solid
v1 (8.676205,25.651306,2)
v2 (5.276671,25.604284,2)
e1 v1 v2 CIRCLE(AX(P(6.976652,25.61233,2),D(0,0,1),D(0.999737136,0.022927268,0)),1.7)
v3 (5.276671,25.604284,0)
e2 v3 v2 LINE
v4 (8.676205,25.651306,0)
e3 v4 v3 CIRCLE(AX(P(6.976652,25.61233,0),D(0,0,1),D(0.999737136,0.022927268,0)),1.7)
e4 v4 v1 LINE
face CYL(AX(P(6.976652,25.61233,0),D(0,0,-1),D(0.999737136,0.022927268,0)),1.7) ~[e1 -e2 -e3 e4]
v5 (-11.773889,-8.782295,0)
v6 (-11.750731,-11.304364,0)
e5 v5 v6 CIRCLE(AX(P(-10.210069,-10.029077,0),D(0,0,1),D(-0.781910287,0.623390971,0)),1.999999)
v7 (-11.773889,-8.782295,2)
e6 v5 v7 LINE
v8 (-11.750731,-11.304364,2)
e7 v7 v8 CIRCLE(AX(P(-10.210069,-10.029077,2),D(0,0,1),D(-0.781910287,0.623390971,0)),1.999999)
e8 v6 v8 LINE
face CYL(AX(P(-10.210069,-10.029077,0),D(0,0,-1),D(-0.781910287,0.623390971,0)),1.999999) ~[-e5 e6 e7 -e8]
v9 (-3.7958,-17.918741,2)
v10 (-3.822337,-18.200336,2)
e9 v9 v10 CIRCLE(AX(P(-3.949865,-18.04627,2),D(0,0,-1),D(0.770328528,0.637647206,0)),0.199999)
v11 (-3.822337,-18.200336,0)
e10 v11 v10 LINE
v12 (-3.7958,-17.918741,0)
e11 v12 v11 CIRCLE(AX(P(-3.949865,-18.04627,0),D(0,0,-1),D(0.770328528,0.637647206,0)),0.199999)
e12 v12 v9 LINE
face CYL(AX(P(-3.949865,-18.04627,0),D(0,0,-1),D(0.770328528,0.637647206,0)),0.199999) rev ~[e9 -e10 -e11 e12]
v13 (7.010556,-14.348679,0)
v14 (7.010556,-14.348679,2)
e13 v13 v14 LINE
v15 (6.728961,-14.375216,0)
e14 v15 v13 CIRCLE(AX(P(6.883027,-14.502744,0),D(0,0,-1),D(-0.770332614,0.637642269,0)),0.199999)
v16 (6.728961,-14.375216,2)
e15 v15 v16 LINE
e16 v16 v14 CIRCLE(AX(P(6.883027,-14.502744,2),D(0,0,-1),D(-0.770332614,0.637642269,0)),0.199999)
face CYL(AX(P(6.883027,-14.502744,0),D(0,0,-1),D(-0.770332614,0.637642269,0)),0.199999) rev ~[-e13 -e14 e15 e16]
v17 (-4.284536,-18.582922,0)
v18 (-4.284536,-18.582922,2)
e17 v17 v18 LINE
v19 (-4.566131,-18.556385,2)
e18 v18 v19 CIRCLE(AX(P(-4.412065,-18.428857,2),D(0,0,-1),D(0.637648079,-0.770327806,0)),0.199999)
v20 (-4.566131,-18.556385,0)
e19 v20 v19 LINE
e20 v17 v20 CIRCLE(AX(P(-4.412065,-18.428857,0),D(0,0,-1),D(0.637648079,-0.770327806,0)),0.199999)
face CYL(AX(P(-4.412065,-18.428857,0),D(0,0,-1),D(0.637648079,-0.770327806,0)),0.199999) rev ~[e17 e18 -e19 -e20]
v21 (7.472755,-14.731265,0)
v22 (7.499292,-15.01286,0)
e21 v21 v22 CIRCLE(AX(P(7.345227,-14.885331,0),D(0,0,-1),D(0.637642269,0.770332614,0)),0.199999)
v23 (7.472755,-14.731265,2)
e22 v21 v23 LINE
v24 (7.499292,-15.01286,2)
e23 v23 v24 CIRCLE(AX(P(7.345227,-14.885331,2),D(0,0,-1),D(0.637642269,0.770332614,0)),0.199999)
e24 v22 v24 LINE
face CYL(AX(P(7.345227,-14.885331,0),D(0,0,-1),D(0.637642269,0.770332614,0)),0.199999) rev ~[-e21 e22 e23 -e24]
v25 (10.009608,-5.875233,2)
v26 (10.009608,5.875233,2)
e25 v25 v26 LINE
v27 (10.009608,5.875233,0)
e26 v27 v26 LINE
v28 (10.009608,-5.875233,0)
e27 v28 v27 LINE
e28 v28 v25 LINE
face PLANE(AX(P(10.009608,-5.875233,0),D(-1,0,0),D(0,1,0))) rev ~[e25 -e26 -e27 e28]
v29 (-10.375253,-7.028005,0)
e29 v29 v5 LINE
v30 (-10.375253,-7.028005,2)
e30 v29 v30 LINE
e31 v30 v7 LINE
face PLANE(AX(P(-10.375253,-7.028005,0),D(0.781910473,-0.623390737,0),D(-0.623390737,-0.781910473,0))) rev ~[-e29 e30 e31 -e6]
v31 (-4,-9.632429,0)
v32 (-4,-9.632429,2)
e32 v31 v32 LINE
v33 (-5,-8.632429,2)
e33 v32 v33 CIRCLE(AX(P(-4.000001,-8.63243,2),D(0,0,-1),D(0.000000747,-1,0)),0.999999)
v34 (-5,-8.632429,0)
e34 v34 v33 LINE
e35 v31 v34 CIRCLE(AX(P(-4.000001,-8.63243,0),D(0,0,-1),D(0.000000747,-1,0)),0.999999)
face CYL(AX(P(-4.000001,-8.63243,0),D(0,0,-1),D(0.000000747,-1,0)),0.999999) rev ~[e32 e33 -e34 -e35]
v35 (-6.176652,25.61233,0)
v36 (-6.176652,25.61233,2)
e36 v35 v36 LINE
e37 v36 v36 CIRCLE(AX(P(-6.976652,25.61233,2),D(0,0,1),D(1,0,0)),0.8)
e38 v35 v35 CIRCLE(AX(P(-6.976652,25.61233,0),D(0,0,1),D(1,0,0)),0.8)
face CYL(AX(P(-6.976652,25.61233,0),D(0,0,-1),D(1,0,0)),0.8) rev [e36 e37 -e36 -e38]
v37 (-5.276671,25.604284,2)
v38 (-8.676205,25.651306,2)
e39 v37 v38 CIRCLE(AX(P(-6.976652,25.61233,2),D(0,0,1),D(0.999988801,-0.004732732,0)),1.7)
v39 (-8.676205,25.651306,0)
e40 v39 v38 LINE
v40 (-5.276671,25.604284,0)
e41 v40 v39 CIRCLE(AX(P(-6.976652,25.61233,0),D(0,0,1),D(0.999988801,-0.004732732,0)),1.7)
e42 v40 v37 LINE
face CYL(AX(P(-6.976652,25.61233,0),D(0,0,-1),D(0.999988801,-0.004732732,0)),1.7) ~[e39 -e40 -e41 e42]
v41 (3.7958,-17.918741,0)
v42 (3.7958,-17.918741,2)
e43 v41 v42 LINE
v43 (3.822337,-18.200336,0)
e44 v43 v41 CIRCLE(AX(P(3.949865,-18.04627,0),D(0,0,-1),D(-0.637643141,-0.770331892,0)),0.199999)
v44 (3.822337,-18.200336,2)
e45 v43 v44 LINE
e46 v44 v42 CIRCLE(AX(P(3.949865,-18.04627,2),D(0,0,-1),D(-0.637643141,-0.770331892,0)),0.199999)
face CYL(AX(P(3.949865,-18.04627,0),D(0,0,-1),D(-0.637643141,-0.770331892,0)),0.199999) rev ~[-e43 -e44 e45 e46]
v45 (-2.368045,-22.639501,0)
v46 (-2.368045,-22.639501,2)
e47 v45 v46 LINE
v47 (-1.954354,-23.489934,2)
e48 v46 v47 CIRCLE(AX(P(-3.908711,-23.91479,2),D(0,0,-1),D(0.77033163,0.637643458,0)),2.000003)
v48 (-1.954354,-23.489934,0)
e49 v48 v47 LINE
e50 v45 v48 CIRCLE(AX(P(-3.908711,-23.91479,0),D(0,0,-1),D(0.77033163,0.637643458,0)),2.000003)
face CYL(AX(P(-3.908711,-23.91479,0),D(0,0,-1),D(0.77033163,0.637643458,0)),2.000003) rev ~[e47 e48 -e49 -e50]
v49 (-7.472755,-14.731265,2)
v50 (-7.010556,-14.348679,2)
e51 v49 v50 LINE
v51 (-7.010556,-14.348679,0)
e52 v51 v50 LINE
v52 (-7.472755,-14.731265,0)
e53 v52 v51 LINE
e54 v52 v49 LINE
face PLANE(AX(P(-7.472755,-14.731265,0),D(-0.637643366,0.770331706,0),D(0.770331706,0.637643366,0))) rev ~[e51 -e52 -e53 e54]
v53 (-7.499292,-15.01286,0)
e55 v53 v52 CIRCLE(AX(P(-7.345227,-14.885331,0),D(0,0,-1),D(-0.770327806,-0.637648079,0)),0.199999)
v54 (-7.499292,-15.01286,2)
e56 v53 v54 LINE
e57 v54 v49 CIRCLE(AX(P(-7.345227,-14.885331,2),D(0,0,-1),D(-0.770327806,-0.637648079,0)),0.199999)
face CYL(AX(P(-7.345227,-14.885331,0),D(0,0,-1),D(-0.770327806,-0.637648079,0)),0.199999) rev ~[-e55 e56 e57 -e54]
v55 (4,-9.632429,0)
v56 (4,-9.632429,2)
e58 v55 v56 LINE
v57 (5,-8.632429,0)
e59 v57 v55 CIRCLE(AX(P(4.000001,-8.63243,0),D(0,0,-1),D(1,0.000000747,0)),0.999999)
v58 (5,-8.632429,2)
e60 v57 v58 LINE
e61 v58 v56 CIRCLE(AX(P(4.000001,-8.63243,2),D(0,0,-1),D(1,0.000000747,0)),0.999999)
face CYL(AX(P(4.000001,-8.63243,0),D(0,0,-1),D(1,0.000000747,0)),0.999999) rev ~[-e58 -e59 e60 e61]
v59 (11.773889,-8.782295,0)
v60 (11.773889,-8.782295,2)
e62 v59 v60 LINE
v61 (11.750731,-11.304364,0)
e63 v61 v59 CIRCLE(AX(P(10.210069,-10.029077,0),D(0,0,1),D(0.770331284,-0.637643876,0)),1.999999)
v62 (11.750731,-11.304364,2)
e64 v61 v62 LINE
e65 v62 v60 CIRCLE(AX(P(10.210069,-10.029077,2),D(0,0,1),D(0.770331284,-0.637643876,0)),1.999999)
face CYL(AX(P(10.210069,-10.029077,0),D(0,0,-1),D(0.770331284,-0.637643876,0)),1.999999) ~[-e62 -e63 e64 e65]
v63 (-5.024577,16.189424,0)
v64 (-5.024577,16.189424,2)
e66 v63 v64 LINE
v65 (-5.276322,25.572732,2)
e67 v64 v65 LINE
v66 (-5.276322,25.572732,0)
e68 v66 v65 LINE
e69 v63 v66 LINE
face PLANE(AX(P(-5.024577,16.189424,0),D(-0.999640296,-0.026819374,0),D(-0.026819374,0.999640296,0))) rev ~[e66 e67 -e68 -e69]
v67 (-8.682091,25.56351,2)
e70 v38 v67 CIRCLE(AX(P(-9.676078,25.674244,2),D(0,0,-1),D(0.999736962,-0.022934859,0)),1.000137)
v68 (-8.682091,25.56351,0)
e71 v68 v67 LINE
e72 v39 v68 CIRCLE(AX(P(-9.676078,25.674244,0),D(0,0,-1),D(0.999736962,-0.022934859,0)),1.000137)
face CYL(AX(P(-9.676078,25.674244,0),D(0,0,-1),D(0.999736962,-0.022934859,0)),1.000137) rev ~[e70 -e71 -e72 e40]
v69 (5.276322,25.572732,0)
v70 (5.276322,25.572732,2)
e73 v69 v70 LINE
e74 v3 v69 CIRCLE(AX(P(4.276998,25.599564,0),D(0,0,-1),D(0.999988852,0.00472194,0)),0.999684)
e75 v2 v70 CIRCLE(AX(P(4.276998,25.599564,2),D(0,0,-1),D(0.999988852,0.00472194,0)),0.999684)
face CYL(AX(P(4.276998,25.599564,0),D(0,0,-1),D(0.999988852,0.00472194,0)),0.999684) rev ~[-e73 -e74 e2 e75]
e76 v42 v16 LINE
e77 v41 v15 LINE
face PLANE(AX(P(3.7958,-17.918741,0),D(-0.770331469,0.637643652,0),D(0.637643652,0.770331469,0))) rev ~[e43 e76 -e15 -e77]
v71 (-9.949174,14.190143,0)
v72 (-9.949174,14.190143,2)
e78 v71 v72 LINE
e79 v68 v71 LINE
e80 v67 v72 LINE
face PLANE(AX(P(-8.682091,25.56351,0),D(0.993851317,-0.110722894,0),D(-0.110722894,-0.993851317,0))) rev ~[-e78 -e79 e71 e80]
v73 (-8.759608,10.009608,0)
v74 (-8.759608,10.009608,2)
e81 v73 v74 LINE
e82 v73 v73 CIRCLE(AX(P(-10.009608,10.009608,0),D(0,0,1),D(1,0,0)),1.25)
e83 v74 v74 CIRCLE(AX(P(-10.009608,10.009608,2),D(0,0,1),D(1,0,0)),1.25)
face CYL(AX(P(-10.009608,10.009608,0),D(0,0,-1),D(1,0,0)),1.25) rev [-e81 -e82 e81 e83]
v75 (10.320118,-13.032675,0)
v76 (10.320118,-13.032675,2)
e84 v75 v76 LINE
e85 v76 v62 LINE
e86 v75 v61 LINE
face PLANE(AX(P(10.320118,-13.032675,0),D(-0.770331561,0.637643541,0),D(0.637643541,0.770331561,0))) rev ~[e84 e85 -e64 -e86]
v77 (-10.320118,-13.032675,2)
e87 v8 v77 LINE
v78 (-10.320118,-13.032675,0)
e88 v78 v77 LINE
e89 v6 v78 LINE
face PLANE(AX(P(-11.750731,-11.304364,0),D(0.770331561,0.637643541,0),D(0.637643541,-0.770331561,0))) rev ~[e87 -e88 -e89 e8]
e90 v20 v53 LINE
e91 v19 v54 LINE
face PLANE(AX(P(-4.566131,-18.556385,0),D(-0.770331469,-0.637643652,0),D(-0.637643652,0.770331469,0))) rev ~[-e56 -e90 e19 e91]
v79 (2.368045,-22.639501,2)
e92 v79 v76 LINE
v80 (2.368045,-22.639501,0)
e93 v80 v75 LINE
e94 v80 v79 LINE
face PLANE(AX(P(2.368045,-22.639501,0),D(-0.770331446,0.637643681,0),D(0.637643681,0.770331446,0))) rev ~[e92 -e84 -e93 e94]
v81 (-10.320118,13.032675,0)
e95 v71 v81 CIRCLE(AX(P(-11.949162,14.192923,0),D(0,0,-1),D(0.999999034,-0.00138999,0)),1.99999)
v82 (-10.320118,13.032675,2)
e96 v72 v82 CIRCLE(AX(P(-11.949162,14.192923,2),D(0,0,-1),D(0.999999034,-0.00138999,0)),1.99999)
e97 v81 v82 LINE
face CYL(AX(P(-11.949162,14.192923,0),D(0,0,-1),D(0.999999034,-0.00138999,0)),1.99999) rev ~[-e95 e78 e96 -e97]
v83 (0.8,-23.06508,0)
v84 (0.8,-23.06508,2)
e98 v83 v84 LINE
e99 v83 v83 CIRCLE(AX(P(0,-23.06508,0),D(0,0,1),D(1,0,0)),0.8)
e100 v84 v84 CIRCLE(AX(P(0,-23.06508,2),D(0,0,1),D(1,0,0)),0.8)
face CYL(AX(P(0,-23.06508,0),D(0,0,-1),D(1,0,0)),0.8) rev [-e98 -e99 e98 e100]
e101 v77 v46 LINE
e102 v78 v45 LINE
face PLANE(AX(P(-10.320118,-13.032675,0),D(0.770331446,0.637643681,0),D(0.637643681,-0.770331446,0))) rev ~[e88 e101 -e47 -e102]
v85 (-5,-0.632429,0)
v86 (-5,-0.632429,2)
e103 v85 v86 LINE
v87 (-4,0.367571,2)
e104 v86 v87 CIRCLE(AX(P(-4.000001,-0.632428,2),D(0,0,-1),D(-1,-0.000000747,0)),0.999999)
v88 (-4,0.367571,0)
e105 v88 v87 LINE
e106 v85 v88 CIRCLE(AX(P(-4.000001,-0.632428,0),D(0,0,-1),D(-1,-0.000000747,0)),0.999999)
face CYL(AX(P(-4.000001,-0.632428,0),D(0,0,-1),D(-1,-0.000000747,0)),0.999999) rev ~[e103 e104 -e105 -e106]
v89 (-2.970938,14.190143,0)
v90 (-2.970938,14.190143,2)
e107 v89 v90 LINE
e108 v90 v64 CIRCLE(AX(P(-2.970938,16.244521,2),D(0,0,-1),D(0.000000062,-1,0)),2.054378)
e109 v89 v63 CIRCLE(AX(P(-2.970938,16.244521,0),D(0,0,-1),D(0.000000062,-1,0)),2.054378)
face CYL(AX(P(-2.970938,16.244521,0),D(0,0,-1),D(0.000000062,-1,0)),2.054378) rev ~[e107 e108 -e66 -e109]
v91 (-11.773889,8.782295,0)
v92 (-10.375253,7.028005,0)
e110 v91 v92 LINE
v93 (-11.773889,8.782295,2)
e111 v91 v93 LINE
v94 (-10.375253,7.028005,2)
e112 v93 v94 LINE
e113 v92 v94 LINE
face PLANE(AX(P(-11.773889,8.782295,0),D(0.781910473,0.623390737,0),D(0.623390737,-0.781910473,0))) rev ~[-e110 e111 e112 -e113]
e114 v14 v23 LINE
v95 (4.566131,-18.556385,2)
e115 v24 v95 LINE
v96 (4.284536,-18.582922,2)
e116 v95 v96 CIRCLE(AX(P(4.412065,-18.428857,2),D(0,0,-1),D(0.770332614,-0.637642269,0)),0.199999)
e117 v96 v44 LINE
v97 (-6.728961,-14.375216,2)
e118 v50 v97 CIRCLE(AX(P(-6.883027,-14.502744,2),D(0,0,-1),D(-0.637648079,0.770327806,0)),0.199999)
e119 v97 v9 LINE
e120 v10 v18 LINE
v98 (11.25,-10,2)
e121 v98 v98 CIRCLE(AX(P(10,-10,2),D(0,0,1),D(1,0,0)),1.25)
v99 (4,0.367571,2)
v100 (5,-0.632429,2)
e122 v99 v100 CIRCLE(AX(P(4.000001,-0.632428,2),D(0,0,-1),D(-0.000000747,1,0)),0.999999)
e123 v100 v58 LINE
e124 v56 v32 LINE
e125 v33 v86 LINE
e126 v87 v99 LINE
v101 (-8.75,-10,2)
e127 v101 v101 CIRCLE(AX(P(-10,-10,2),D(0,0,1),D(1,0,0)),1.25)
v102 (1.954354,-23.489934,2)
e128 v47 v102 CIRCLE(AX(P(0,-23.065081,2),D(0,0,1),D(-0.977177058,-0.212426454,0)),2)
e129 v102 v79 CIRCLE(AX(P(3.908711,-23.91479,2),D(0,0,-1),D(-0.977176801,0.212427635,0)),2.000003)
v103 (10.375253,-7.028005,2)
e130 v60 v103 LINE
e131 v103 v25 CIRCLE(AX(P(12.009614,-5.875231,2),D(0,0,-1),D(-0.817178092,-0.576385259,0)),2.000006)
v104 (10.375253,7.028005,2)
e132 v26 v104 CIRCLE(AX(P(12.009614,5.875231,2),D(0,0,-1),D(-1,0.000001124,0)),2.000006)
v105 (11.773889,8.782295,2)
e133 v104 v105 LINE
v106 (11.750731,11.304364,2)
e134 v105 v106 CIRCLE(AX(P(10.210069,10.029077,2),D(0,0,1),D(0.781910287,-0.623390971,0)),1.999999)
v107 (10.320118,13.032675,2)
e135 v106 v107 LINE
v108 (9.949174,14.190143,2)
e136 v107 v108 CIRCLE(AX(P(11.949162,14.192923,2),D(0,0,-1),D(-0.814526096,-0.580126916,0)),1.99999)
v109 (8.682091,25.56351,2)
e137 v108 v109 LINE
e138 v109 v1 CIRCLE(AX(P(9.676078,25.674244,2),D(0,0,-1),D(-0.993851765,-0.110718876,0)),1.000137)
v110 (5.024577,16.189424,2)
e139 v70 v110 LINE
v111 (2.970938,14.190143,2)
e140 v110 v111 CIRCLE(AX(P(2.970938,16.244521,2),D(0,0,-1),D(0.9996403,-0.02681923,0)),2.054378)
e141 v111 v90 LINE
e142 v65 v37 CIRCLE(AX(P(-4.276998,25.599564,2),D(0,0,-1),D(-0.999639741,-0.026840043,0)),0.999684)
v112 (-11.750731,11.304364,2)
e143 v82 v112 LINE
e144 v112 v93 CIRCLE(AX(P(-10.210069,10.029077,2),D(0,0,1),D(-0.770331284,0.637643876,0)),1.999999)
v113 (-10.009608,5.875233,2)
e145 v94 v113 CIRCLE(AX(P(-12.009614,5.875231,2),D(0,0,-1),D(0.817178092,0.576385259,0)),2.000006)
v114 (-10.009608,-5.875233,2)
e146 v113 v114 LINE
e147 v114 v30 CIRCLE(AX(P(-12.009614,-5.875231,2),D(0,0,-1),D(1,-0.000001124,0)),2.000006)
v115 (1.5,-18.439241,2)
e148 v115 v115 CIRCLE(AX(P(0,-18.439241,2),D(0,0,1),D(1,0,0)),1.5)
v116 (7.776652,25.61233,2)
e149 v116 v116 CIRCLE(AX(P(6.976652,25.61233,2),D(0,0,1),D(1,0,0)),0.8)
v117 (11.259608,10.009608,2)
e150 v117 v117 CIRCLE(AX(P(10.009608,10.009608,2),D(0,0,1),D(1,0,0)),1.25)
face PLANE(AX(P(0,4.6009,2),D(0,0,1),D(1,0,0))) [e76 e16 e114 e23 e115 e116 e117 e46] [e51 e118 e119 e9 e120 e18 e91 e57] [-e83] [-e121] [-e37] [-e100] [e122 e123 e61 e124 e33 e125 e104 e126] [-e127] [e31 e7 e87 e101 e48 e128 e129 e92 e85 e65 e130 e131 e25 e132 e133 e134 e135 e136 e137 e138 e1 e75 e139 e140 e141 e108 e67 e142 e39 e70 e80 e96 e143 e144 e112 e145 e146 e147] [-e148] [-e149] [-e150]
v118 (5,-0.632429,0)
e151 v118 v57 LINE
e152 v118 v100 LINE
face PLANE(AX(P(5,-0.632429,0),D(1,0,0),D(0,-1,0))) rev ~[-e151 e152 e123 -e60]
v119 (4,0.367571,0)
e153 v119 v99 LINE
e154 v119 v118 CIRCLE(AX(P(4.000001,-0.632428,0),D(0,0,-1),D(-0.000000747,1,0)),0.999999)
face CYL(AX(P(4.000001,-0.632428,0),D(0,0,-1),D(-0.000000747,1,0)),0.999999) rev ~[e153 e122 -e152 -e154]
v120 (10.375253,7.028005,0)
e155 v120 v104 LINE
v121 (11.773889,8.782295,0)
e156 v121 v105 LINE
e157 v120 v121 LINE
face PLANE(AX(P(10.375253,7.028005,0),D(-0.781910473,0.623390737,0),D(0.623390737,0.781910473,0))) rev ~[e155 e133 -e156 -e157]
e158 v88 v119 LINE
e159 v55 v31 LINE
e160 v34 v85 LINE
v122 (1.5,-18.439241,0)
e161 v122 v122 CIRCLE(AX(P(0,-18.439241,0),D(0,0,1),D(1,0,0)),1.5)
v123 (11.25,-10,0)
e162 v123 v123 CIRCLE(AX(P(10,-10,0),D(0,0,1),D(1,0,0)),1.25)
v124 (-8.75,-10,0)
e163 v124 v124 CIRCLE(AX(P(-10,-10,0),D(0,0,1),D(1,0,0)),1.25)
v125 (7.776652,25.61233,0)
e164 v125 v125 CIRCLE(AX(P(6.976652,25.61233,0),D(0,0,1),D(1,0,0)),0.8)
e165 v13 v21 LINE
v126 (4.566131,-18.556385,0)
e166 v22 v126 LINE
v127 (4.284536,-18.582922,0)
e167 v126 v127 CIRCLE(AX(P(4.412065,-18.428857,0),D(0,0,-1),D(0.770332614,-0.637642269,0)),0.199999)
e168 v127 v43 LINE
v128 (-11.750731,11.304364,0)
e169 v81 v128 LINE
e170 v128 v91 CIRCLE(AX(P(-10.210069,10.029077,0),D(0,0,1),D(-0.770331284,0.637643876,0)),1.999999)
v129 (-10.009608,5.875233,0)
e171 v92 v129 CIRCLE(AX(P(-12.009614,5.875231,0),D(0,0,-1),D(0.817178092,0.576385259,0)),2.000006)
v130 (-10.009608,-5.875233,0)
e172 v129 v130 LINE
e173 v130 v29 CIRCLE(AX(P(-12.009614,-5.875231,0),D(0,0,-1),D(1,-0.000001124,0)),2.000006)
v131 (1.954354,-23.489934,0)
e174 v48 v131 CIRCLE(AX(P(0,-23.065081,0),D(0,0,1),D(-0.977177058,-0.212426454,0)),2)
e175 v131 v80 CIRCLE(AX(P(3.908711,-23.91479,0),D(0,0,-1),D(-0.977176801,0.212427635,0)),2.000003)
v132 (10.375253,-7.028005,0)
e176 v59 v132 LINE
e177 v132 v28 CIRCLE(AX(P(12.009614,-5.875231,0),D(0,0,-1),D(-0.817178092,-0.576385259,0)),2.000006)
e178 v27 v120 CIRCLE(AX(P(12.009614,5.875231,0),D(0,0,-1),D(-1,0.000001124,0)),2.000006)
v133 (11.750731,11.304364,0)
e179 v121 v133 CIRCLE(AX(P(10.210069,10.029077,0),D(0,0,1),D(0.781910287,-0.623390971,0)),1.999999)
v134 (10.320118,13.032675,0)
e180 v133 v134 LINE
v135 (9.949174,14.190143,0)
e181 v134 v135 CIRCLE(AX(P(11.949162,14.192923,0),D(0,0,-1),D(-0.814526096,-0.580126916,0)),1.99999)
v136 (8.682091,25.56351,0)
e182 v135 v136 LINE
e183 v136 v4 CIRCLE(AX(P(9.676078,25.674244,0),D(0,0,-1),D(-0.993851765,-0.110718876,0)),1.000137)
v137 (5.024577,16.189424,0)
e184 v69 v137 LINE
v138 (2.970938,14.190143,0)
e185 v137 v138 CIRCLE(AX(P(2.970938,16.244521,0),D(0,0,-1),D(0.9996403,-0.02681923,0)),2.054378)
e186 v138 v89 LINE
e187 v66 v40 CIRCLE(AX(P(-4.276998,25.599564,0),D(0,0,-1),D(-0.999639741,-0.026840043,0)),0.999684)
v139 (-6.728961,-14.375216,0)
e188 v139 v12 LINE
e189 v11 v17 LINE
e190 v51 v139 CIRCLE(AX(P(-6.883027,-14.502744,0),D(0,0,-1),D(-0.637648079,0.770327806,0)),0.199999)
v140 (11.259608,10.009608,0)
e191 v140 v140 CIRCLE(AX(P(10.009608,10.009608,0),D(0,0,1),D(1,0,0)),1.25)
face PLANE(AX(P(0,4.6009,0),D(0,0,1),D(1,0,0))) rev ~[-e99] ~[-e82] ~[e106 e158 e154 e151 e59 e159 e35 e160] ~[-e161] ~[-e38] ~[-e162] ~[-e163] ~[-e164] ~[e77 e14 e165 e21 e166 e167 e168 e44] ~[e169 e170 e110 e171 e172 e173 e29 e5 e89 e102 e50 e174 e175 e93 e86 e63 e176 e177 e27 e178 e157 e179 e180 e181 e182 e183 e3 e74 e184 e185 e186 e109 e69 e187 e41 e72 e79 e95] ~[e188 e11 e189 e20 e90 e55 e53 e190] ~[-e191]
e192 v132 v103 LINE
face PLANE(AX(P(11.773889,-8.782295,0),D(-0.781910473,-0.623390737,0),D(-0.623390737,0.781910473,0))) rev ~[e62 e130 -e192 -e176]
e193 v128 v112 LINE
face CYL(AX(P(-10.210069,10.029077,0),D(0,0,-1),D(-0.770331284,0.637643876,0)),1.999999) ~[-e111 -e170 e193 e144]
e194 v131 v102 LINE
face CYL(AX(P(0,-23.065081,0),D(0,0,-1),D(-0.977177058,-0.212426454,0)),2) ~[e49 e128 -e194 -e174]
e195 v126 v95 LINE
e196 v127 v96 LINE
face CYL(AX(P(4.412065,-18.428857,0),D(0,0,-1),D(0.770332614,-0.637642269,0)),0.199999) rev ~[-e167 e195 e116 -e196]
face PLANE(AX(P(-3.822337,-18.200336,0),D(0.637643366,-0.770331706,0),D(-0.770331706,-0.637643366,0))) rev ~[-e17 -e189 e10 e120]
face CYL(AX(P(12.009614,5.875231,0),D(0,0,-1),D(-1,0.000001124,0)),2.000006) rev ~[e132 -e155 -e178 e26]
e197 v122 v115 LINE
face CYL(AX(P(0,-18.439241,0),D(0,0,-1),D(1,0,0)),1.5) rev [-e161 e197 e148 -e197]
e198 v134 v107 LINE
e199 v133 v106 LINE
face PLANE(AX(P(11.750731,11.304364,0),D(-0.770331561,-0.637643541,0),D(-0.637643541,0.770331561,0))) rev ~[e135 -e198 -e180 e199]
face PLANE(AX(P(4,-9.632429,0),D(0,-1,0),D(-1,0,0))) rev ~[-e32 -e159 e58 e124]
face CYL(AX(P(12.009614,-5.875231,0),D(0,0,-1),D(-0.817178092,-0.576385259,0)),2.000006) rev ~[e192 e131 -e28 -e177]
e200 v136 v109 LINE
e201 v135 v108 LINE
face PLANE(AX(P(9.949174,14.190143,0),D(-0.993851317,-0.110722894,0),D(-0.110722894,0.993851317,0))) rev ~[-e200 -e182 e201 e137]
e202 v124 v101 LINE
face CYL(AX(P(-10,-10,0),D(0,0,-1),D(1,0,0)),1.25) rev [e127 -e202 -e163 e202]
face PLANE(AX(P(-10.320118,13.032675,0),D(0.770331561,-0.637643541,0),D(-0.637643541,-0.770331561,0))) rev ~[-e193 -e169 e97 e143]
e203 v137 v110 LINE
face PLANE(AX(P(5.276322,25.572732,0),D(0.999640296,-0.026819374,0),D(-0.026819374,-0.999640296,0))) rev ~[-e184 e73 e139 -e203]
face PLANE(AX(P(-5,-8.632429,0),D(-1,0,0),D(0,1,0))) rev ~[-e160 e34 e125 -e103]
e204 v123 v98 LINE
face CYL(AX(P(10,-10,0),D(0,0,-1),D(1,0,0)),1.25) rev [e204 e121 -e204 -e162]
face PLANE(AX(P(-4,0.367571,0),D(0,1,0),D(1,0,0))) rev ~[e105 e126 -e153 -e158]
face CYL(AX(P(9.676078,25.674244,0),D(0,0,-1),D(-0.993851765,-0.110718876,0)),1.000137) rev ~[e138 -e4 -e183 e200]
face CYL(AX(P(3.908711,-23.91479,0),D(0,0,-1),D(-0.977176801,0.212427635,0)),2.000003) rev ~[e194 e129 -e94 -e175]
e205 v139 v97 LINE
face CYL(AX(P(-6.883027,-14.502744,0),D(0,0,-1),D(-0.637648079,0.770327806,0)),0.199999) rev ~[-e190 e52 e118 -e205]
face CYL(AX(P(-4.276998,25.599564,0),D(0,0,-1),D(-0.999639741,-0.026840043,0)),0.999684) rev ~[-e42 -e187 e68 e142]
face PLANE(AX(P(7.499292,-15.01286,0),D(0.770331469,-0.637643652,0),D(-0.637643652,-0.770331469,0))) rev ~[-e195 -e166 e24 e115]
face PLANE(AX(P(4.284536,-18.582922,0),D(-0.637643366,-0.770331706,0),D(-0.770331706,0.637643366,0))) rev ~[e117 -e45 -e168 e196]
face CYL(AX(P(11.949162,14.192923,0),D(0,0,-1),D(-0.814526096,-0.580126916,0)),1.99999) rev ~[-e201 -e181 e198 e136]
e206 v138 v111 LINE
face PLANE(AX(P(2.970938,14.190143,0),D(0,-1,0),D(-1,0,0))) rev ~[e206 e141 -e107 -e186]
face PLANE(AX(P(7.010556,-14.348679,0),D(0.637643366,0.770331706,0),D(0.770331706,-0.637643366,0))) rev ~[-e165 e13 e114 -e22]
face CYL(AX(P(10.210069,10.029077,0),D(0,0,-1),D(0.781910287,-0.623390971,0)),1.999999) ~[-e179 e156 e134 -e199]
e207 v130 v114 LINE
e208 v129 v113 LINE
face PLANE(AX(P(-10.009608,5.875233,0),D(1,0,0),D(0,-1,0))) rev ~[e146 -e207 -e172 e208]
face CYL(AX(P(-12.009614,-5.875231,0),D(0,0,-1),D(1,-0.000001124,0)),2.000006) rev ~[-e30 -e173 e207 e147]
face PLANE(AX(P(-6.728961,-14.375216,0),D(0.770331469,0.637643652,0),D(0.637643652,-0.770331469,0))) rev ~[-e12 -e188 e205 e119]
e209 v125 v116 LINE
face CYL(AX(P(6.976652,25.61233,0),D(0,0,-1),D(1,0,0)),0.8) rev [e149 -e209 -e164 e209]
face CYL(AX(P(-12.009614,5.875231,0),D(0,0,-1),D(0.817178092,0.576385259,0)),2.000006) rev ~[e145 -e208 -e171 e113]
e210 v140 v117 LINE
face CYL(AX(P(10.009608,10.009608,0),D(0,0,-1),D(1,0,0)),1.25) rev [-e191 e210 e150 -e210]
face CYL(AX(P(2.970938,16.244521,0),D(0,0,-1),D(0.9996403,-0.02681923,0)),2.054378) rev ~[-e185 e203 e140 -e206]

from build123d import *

# Parameters (mm, degrees)
F0_R     = 0.8
F0_R_2   = 1.5
F0_R_3   = 1.25
F1_DEPTH = 2


with BuildPart() as f1:
    # F0 (on Top) → F1 (new body)
    with BuildSketch(Plane.XY):
        with BuildLine():
            Line((10.009608, -5.875233), (10.009608, 5.875233))
            ThreePointArc((10.009608, 5.875233), (10.10321, 6.479919), (10.375253, 7.028005))
            Line((10.375253, 7.028005), (11.773889, 8.782295))
            ThreePointArc((11.773889, 8.782295), (12.209984, 10.04744), (11.750731, 11.304364))
            Line((11.750731, 11.304364), (10.320118, 13.032675))
            ThreePointArc((10.320118, 13.032675), (10.044588, 13.582548), (9.949174, 14.190143))
            Line((9.949174, 14.190143), (8.682091, 25.56351))
            ThreePointArc((8.682091, 25.56351), (8.678182, 25.607343), (8.676205, 25.651306))
            ThreePointArc((8.676205, 25.651306), (6.95314, 27.312167), (5.276671, 25.604284))
            ThreePointArc((5.276671, 25.604284), (5.276621, 25.588507), (5.276322, 25.572732))
            Line((5.276322, 25.572732), (5.024577, 16.189424))
            ThreePointArc((5.024577, 16.189424), (4.40399, 14.772505), (2.970938, 14.190143))
            Line((2.970938, 14.190143), (-2.970938, 14.190143))
            ThreePointArc((-2.970938, 14.190143), (-4.40399, 14.772505), (-5.024577, 16.189424))
            Line((-5.024577, 16.189424), (-5.276322, 25.572732))
            ThreePointArc((-5.276322, 25.572732), (-5.276621, 25.588507), (-5.276671, 25.604284))
            ThreePointArc((-5.276671, 25.604284), (-6.95314, 27.312167), (-8.676205, 25.651306))
            ThreePointArc((-8.676205, 25.651306), (-8.678182, 25.607343), (-8.682091, 25.56351))
            Line((-8.682091, 25.56351), (-9.949174, 14.190143))
            ThreePointArc((-9.949174, 14.190143), (-10.044588, 13.582548), (-10.320118, 13.032675))
            Line((-10.320118, 13.032675), (-11.750731, 11.304364))
            ThreePointArc((-11.750731, 11.304364), (-12.209984, 10.04744), (-11.773889, 8.782295))
            Line((-11.773889, 8.782295), (-10.375253, 7.028005))
            ThreePointArc((-10.375253, 7.028005), (-10.10321, 6.479919), (-10.009608, 5.875233))
            Line((-10.009608, 5.875233), (-10.009608, -5.875233))
            ThreePointArc((-10.009608, -5.875233), (-10.10321, -6.479919), (-10.375253, -7.028005))
            Line((-10.375253, -7.028005), (-11.773889, -8.782295))
            ThreePointArc((-11.773889, -8.782295), (-12.209984, -10.04744), (-11.750731, -11.304364))
            Line((-11.750731, -11.304364), (-10.320118, -13.032675))
            Line((-10.320118, -13.032675), (-2.368045, -22.639501))
            ThreePointArc((-2.368045, -22.639501), (-2.11021, -23.039914), (-1.954354, -23.489934))
            ThreePointArc((-1.954354, -23.489934), (0, -25.065081), (1.954354, -23.489934))
            ThreePointArc((1.954354, -23.489934), (2.11021, -23.039914), (2.368045, -22.639501))
            Line((2.368045, -22.639501), (10.320118, -13.032675))
            Line((10.320118, -13.032675), (11.750731, -11.304364))
            ThreePointArc((11.750731, -11.304364), (12.209984, -10.04744), (11.773889, -8.782295))
            Line((11.773889, -8.782295), (10.375253, -7.028005))
            ThreePointArc((10.375253, -7.028005), (10.10321, -6.479919), (10.009608, -5.875233))
        make_face()
        with Locations((0, -23.06508)):
            Circle(F0_R, mode=Mode.SUBTRACT)
        with BuildLine():
            Line((-4.566131, -18.556385), (-7.499292, -15.01286))
            ThreePointArc((-7.499292, -15.01286), (-7.544344, -14.866566), (-7.472755, -14.731265))
            Line((-7.472755, -14.731265), (-7.010556, -14.348679))
            ThreePointArc((-7.010556, -14.348679), (-6.864262, -14.303627), (-6.728961, -14.375216))
            Line((-6.728961, -14.375216), (-3.7958, -17.918741))
            ThreePointArc((-3.7958, -17.918741), (-3.750748, -18.065034), (-3.822337, -18.200336))
            Line((-3.822337, -18.200336), (-4.284536, -18.582922))
            ThreePointArc((-4.284536, -18.582922), (-4.43083, -18.627974), (-4.566131, -18.556385))
        make_face(mode=Mode.SUBTRACT)
        with Locations((0, -18.439241)):
            Circle(F0_R_2, mode=Mode.SUBTRACT)
        with Locations((-10, -10)):
            Circle(F0_R_3, mode=Mode.SUBTRACT)
        with BuildLine():
            ThreePointArc((5, -8.632429), (4.707107, -9.339536), (4, -9.632429))
            Line((4, -9.632429), (-4, -9.632429))
            ThreePointArc((-4, -9.632429), (-4.707107, -9.339536), (-5, -8.632429))
            Line((-5, -8.632429), (-5, -0.632429))
            ThreePointArc((-5, -0.632429), (-4.707107, 0.074678), (-4, 0.367571))
            Line((-4, 0.367571), (4, 0.367571))
            ThreePointArc((4, 0.367571), (4.707107, 0.074678), (5, -0.632429))
            Line((5, -0.632429), (5, -8.632429))
        make_face(mode=Mode.SUBTRACT)
        with BuildLine():
            Line((3.7958, -17.918741), (6.728961, -14.375216))
            ThreePointArc((6.728961, -14.375216), (6.864262, -14.303627), (7.010556, -14.348679))
            Line((7.010556, -14.348679), (7.472755, -14.731265))
            ThreePointArc((7.472755, -14.731265), (7.544344, -14.866566), (7.499292, -15.01286))
            Line((7.499292, -15.01286), (4.566131, -18.556385))
            ThreePointArc((4.566131, -18.556385), (4.43083, -18.627974), (4.284536, -18.582922))
            Line((4.284536, -18.582922), (3.822337, -18.200336))
            ThreePointArc((3.822337, -18.200336), (3.750748, -18.065034), (3.7958, -17.918741))
        make_face(mode=Mode.SUBTRACT)
        with Locations((10, -10)):
            Circle(F0_R_3, mode=Mode.SUBTRACT)
        with Locations((-10.009608, 10.009608)):
            Circle(F0_R_3, mode=Mode.SUBTRACT)
        with Locations((-6.976652, 25.61233)):
            Circle(F0_R, mode=Mode.SUBTRACT)
        with Locations((10.009608, 10.009608)):
            Circle(F0_R_3, mode=Mode.SUBTRACT)
        with Locations((6.976652, 25.61233)):
            Circle(F0_R, mode=Mode.SUBTRACT)
    extrude(amount=F1_DEPTH)


solid = f1.part
